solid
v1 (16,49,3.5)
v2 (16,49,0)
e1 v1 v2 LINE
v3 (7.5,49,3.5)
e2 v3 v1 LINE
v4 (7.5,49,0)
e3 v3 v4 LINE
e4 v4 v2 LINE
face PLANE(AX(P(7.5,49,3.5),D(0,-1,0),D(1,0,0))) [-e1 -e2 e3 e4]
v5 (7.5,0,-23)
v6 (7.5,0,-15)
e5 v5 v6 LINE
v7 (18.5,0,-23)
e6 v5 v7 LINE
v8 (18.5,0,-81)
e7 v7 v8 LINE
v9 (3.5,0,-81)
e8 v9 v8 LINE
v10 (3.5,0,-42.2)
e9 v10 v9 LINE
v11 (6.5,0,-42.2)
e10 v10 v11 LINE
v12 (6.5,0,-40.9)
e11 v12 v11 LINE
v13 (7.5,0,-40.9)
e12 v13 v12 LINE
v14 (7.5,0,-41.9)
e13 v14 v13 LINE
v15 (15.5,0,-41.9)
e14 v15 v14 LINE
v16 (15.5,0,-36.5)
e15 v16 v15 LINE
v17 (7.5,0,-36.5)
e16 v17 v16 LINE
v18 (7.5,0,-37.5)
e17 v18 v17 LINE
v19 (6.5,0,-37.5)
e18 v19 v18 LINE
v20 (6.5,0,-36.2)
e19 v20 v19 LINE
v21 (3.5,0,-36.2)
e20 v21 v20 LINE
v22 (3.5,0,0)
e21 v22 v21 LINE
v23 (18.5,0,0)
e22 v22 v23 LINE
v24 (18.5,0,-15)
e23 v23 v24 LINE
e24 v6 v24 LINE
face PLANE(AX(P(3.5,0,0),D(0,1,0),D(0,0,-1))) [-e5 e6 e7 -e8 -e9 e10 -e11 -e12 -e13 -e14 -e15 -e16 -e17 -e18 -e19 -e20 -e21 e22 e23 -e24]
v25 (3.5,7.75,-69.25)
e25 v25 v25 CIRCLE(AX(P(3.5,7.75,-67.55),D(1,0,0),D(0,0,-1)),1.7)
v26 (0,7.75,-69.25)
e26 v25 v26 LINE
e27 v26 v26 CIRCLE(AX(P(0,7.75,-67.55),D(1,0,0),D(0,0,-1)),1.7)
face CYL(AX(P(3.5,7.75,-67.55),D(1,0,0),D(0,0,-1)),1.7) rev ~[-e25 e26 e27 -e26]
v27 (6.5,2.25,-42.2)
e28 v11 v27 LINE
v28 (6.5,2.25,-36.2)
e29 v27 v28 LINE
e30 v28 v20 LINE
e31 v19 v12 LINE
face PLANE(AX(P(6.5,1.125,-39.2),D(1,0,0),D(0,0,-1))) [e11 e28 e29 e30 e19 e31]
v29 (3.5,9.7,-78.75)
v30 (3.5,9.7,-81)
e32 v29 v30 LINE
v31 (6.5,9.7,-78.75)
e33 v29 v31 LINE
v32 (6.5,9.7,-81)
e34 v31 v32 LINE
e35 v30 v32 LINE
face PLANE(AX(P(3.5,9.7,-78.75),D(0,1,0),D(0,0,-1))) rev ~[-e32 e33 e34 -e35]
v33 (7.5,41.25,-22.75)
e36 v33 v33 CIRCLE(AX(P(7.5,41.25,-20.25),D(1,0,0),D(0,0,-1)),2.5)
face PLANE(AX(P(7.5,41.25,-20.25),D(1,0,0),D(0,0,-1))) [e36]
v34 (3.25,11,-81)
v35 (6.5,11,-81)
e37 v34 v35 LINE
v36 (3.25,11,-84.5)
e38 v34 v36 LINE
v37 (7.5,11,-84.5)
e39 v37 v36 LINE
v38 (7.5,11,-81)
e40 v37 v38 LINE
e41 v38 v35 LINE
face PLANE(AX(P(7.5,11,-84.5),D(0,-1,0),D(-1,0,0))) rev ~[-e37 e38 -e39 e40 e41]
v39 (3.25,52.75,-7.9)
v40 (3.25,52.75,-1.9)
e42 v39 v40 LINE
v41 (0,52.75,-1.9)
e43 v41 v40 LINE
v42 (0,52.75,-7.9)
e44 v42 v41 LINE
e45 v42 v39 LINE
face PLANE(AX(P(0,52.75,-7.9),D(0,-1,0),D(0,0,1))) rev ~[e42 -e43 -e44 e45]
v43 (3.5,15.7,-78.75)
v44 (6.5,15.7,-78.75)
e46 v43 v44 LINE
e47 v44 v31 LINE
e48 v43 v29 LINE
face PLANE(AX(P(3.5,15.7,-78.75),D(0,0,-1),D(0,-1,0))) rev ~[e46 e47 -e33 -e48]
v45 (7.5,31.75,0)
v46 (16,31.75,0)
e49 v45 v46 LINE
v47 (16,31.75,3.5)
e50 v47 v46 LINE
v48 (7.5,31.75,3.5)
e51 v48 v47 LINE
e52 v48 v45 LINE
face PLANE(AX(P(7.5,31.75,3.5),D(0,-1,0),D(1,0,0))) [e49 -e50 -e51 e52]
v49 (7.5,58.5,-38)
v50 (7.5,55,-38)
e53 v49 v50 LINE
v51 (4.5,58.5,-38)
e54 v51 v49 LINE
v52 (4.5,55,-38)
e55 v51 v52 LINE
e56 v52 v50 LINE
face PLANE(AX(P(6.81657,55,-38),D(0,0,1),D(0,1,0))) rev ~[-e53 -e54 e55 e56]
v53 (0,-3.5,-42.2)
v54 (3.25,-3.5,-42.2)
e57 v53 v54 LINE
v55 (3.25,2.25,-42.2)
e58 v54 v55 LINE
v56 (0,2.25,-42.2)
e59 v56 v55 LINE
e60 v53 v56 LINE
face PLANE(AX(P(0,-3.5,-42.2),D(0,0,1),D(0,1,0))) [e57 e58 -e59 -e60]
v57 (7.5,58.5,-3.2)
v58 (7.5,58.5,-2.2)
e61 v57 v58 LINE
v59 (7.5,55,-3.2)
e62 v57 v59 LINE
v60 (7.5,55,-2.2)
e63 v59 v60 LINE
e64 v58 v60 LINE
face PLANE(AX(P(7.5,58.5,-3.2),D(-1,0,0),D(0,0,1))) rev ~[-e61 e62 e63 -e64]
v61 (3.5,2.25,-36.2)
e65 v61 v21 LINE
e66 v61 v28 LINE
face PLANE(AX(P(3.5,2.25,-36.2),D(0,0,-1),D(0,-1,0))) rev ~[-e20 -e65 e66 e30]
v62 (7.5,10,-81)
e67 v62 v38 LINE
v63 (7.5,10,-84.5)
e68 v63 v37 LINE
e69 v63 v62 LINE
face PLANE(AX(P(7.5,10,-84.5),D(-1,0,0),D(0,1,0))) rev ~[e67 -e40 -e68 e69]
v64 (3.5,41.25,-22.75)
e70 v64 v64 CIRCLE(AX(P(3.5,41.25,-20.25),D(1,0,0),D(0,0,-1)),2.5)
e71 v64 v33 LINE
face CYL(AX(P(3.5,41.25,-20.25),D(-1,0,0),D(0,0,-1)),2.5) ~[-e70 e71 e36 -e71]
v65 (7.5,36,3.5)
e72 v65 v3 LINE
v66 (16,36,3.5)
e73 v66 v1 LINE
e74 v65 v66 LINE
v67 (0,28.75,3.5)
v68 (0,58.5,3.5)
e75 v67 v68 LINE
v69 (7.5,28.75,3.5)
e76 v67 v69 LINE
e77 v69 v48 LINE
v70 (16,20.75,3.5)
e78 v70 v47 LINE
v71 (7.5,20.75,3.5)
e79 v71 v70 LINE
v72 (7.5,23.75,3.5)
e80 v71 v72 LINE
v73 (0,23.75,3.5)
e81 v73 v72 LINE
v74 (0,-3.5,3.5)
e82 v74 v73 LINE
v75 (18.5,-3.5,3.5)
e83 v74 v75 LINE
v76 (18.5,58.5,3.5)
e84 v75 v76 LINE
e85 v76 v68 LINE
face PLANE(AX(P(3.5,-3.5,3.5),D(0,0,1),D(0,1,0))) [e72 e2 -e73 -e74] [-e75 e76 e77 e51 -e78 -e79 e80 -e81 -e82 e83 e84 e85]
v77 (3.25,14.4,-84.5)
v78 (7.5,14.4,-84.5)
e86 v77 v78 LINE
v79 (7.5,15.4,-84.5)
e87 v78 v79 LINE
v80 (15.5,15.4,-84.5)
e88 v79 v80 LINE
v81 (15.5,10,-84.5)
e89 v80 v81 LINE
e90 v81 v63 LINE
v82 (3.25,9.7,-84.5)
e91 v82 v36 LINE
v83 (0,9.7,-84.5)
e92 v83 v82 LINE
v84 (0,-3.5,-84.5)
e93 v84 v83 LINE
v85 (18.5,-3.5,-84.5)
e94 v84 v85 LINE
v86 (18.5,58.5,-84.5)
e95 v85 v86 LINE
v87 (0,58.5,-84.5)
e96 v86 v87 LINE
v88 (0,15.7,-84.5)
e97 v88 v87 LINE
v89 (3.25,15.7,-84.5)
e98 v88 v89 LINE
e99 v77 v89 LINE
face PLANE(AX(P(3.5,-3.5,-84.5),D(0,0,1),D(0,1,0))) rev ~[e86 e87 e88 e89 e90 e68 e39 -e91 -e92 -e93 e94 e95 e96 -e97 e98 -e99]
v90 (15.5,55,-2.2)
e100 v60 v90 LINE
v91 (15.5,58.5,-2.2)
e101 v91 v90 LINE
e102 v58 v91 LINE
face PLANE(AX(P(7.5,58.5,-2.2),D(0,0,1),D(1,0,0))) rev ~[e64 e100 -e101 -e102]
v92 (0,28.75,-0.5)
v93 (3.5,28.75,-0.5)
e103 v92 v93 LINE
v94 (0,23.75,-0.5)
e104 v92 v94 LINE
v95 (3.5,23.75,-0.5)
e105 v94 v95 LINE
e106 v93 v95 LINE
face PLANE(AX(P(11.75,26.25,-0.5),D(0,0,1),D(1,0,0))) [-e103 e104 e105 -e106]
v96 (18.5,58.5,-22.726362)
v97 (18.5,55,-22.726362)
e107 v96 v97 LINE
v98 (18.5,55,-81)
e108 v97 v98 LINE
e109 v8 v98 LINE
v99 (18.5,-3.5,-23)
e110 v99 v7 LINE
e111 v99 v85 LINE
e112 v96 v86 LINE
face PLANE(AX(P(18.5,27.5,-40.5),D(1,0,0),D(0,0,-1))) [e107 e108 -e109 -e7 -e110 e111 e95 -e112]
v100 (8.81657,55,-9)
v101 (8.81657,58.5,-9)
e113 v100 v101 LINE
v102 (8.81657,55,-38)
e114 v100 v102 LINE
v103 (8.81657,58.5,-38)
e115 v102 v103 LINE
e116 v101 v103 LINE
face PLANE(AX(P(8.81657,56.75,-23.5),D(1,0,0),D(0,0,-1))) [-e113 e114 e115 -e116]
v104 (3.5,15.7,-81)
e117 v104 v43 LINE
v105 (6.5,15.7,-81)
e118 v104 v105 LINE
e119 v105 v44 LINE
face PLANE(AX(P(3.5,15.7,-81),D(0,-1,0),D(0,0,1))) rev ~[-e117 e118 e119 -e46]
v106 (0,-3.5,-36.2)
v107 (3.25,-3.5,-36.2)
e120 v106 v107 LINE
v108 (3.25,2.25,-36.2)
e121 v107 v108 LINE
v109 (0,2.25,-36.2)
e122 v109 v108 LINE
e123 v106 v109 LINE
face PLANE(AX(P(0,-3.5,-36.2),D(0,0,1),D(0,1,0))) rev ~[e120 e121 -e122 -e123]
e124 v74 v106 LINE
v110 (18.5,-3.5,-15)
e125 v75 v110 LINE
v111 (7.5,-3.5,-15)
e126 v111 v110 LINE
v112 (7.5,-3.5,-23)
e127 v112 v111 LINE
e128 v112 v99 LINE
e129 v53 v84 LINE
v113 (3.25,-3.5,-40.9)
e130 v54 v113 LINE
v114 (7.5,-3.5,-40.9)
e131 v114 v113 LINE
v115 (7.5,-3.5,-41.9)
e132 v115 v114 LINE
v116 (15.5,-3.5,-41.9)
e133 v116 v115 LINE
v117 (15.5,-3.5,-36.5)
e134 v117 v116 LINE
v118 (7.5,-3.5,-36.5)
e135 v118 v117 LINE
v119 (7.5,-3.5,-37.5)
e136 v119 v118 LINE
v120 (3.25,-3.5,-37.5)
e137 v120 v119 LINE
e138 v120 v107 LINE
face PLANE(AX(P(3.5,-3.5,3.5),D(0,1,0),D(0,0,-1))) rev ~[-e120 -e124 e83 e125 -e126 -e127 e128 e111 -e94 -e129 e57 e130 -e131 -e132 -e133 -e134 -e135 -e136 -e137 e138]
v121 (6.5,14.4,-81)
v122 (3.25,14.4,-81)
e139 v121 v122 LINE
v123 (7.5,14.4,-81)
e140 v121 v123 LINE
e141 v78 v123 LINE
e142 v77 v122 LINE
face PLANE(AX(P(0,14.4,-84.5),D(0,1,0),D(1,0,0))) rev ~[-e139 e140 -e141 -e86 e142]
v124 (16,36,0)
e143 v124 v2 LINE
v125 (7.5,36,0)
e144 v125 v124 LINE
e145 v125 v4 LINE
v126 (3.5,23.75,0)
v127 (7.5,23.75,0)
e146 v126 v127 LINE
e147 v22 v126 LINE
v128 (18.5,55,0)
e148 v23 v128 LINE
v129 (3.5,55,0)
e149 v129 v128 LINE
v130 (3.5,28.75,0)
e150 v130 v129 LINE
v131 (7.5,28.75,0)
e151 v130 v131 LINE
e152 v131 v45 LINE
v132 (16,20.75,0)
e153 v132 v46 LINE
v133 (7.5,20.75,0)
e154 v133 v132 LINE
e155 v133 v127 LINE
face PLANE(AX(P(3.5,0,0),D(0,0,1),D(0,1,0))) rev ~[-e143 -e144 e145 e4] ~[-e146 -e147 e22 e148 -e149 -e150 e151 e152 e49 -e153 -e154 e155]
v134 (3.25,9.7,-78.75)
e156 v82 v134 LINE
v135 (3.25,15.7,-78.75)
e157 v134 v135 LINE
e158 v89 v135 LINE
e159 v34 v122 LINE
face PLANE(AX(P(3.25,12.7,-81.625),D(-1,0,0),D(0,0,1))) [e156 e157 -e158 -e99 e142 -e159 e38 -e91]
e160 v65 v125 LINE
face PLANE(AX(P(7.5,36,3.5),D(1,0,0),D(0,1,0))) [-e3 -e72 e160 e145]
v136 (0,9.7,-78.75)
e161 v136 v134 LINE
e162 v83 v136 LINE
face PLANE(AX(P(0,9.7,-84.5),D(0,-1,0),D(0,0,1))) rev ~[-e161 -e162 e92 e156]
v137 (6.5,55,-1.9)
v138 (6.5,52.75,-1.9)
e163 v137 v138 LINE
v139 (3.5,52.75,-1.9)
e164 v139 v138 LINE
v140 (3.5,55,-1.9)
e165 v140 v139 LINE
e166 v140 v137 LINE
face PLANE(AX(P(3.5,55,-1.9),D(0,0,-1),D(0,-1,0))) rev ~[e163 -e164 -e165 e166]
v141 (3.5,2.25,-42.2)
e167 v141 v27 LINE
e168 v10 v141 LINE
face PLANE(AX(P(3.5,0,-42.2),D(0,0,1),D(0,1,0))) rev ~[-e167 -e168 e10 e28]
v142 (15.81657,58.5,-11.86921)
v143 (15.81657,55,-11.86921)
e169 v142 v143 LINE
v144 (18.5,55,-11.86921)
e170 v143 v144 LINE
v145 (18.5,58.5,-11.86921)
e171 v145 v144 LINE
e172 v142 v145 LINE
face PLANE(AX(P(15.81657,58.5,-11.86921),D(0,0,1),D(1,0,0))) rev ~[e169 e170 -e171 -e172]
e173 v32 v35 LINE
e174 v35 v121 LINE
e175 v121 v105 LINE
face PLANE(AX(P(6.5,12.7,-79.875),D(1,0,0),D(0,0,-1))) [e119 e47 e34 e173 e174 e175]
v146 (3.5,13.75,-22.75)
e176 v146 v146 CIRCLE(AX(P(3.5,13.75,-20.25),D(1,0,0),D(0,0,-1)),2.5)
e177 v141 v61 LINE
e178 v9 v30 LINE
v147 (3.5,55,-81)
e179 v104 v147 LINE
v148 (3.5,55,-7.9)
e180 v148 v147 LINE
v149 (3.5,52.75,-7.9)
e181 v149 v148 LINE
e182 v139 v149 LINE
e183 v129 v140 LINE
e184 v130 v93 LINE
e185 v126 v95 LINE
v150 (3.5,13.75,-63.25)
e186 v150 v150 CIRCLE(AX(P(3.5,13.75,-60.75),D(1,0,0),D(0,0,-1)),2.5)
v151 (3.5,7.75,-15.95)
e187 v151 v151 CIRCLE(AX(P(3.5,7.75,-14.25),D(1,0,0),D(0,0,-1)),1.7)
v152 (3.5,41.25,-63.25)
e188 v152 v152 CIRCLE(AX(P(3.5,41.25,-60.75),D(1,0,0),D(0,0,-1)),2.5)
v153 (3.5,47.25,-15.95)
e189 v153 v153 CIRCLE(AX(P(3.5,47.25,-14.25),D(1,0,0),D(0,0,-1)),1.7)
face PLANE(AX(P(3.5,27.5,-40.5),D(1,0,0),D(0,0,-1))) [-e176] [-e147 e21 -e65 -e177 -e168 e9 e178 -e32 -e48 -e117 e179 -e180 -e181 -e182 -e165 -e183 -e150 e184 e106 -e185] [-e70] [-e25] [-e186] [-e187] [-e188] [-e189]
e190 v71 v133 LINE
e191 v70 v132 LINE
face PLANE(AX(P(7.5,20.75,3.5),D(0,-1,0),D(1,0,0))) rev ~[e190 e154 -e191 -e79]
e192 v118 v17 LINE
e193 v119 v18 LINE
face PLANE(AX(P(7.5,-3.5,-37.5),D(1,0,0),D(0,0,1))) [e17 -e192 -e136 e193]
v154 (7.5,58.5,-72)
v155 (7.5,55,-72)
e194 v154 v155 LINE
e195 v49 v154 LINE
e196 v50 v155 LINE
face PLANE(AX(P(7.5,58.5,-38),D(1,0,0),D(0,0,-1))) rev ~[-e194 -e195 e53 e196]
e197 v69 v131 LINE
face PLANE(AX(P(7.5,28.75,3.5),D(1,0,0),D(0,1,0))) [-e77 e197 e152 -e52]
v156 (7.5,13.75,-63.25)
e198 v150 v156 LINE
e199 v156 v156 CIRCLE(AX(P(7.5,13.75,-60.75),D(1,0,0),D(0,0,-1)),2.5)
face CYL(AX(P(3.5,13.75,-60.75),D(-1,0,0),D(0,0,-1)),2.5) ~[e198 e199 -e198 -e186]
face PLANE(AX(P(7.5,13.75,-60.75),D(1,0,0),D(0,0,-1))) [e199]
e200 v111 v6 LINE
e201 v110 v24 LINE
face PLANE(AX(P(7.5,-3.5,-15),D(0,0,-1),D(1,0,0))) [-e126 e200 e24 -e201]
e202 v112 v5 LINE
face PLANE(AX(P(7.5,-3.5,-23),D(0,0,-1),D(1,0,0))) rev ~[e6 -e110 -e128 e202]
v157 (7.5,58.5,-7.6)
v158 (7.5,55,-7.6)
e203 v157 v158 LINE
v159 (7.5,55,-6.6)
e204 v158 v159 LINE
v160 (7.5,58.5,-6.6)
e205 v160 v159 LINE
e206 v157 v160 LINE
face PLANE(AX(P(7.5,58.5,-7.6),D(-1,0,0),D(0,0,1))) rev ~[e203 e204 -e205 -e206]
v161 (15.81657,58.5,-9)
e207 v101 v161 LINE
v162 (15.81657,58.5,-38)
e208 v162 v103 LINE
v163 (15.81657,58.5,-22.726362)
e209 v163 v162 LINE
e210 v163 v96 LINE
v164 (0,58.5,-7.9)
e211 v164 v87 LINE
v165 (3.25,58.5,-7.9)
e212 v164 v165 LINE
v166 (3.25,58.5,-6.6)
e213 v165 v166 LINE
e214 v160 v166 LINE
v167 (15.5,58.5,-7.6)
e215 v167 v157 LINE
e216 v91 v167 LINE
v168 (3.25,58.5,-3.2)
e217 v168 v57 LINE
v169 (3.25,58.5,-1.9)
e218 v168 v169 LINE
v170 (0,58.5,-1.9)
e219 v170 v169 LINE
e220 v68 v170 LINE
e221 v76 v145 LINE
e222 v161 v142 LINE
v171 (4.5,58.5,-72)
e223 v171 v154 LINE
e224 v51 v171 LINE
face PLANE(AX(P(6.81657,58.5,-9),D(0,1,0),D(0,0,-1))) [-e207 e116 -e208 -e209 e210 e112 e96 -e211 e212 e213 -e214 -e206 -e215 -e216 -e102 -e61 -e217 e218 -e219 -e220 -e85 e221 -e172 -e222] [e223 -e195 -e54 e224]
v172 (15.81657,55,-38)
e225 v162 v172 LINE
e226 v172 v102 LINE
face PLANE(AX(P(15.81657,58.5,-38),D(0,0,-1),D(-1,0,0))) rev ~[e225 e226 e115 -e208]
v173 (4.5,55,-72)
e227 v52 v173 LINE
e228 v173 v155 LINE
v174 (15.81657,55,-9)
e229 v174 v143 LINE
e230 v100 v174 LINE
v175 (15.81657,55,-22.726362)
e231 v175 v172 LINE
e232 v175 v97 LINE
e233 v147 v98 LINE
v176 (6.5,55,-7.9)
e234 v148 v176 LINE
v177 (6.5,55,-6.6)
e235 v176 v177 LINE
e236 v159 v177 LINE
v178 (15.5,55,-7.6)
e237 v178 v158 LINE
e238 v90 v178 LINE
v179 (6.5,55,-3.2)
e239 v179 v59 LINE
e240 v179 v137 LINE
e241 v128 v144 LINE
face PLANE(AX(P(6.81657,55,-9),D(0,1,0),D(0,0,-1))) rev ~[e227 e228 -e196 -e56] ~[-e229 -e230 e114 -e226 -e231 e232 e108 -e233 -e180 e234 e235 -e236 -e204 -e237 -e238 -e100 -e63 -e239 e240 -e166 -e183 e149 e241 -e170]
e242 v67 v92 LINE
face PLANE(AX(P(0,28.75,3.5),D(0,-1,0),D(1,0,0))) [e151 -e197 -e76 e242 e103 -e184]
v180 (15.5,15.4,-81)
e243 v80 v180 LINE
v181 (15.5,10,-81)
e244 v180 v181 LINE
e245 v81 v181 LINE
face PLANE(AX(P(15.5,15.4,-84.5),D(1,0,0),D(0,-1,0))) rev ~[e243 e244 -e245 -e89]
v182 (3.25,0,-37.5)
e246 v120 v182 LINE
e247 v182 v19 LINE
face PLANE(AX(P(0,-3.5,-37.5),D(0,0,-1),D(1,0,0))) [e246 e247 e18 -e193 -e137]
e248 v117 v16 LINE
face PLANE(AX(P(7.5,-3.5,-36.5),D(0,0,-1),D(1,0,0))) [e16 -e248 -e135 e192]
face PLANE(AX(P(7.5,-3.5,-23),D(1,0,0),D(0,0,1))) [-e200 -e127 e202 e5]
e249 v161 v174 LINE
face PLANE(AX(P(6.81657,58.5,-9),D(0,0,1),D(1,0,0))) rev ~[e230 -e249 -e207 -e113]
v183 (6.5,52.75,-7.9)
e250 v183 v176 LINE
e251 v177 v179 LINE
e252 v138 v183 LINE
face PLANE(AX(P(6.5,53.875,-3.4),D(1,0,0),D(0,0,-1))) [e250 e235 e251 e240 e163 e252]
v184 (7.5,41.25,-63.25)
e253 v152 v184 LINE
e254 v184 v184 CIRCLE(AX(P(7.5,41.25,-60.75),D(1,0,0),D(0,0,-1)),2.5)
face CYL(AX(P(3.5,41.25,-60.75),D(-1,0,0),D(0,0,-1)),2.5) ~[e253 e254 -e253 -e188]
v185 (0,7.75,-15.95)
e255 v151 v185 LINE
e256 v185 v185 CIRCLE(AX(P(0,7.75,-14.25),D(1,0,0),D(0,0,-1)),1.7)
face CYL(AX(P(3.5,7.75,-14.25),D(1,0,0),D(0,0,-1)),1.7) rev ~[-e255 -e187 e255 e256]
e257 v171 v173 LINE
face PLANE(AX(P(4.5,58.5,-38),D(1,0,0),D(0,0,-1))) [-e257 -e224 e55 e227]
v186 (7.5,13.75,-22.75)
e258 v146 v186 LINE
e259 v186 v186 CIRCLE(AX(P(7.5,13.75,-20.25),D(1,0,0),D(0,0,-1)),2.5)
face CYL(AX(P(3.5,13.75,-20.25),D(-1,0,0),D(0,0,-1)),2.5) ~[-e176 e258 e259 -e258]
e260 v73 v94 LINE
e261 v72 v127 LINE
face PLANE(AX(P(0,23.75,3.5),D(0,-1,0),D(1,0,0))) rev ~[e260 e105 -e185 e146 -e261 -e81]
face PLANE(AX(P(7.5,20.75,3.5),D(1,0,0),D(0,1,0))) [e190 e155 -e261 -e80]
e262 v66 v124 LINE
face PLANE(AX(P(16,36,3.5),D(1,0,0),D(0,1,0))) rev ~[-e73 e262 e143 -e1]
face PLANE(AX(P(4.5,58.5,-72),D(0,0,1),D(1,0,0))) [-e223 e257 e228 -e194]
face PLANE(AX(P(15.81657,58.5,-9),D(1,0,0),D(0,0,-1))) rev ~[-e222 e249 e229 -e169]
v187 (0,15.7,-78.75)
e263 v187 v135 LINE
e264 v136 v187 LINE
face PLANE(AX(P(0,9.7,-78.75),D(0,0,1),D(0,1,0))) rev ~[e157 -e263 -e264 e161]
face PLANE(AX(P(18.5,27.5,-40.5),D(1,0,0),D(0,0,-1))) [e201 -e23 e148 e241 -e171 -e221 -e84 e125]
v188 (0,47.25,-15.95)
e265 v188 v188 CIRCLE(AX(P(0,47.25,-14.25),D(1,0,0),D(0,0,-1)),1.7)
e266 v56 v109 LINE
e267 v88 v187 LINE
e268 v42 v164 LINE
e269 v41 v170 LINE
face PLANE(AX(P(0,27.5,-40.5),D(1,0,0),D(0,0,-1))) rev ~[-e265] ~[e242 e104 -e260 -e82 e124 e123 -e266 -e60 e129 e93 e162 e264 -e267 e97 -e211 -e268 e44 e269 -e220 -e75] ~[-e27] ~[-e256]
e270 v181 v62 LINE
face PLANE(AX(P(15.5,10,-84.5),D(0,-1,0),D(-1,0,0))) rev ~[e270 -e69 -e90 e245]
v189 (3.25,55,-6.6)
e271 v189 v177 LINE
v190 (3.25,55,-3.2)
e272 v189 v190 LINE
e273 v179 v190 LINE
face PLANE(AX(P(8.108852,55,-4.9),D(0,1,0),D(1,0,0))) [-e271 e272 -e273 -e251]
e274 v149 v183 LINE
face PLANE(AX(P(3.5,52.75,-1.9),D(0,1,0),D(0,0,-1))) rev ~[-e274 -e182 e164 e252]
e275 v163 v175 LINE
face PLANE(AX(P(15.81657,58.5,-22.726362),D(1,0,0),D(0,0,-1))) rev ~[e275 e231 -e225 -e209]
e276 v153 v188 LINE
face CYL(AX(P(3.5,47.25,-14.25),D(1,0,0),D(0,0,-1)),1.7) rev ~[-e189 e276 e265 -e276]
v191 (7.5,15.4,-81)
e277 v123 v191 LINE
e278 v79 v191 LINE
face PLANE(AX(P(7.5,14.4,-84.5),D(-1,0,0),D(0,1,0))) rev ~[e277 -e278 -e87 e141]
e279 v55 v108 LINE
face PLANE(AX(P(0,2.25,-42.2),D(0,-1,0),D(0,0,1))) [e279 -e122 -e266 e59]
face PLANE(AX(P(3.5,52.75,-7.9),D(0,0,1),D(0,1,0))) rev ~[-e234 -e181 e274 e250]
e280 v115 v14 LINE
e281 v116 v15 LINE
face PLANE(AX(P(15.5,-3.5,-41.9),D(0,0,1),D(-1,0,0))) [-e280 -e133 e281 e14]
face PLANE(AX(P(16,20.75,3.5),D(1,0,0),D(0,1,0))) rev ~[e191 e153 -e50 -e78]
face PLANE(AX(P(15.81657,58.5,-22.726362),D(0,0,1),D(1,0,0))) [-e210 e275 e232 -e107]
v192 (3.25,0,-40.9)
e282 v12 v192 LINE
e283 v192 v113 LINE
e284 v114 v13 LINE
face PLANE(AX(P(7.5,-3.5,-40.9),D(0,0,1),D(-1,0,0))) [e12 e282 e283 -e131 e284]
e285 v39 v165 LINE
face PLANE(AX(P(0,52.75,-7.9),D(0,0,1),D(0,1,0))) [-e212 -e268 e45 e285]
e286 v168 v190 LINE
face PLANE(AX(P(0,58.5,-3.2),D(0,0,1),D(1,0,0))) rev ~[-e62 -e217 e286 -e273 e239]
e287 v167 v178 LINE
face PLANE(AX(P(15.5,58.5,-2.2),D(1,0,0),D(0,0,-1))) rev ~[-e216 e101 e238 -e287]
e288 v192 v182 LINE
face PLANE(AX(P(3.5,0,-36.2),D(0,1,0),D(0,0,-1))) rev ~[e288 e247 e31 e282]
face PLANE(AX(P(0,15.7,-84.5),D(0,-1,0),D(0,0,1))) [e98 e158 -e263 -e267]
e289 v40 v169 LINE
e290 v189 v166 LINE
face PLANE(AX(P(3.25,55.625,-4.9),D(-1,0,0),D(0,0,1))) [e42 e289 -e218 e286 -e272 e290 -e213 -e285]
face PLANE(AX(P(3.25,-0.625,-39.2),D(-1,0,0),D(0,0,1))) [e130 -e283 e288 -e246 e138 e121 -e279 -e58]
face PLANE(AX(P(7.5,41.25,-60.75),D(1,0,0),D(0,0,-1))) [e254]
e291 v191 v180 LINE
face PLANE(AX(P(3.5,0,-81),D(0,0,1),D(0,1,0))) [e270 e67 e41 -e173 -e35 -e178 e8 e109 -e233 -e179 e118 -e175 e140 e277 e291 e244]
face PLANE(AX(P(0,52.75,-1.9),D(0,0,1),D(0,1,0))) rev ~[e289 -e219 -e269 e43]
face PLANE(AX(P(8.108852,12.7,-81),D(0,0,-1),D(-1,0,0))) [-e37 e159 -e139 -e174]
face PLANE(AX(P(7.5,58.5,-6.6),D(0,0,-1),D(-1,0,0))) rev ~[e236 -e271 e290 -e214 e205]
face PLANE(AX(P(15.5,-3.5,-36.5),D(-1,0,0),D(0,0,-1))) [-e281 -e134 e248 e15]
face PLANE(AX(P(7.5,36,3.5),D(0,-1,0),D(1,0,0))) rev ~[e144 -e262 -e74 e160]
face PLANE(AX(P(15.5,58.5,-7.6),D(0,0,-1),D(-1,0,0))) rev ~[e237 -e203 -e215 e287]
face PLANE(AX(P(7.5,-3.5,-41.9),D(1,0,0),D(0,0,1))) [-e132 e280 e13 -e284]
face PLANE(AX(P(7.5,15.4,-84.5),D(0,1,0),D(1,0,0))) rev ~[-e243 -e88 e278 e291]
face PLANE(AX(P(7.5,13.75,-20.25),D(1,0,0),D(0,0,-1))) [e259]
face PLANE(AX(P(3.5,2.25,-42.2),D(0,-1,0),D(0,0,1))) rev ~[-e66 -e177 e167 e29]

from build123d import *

# Parameters (mm, degrees)
SKETCH_1_W          = 88
SKETCH_1_H          = 62
EXTRUDE_1_DEPTH     = 3.5
SKETCH_2_W          = 88
SKETCH_2_H          = 62
SKETCH_2_W_2        = 81
SKETCH_2_H_2        = 55
EXTRUDE_2_DEPTH     = 15
SKETCH_3_R          = 2.5
EXTRUDE_3_DEPTH     = 4
SKETCH_4_W          = 3
SKETCH_4_H          = 34
SKETCH_4_W_2        = 2.683429954
SKETCH_4_H_2        = 10.857152268
CUT_EXTRUDE_2_DEPTH = 3.5
SKETCH_7_W          = 8.5
SKETCH_7_H          = 11
SKETCH_7_H_2        = 13
SKETCH_7_W_2        = 7.5
SKETCH_7_H_3        = 2.5
CUT_EXTRUDE_3_DEPTH = 4
SKETCH_8_W          = 12
SKETCH_8_H          = 8
CUT_EXTRUDE_4_DEPTH = 3.5
CUT_EXTRUDE_5_DEPTH = 3.5
SKETCH_10_R         = 1.7
CUT_EXTRUDE_6_DEPTH = 3.5
EXTRUDE_4_DEPTH     = 3
SKETCH_12_W         = 6
SKETCH_12_H         = 5.75
SKETCH_12_W_2       = 5.75
SKETCH_12_H_2       = 6
CUT_EXTRUDE_7_DEPTH = 3.25
SKETCH_13_W         = 29
SKETCH_13_H         = 3.5
EXTRUDE_5_DEPTH     = 2


with BuildPart() as part:
    # 草图1 → 凸台-拉伸1 (new body)
    with BuildSketch(Plane(origin=(0, 0, 0), x_dir=(0, 0, -1), z_dir=(1, 0, 0))):
        with Locations((40.5, 27.5)):
            Rectangle(SKETCH_1_W, SKETCH_1_H)
    extrude(amount=EXTRUDE_1_DEPTH)

    # 草图2 → 凸台-拉伸2 (add)
    with BuildSketch(Plane(origin=(3.5, 0, 0), x_dir=(0, 0, -1), z_dir=(1, 0, 0))):
        with Locations((40.5, 27.5)):
            Rectangle(SKETCH_2_W, SKETCH_2_H)
        with Locations((40.5, 27.5)):
            Rectangle(SKETCH_2_W_2, SKETCH_2_H_2, mode=Mode.SUBTRACT)
    extrude(amount=EXTRUDE_2_DEPTH)

    # 草图3 → 凸台-拉伸3 (add)
    with BuildSketch(Plane(origin=(3.5, 0, 0), x_dir=(0, 0, -1), z_dir=(1, 0, 0))):
        with Locations((20.25, 41.25)):
            Circle(SKETCH_3_R)
        with Locations((60.75, 41.25)):
            Circle(SKETCH_3_R)
        with Locations((60.75, 13.75)):
            Circle(SKETCH_3_R)
        with Locations((20.25, 13.75)):
            Circle(SKETCH_3_R)
    extrude(amount=EXTRUDE_3_DEPTH)

    # 草图4 → 切除-拉伸2 (cut)
    with BuildSketch(Plane(origin=(0, 58.5, 0), x_dir=(1, 0, 0), z_dir=(0, 1, 0))):
        with Locations((6, 55)):
            Rectangle(SKETCH_4_W, SKETCH_4_H)
        Polygon((7.5, 38), (6.816570046, 38), (6.816570046, 9), (15.816570046, 9), (15.816570046, 11.869210194), (15.816570046, 22.726362462), (15.816570046, 38), align=None)
        Polygon((0, 3.2), (7.5, 3.2), (7.5, 2.2), (15.5, 2.2), (15.5, 7.6), (7.5, 7.6), (7.5, 6.6), (0, 6.6), align=None)
        with Locations((17.158285023, 17.297786328)):
            Rectangle(SKETCH_4_W_2, SKETCH_4_H_2)
    extrude(amount=-CUT_EXTRUDE_2_DEPTH, mode=Mode.SUBTRACT)

    # 草图7 → 切除-拉伸3 (cut)
    with BuildSketch(Plane.XY.offset(3.5)):
        with Locations((11.75, 26.25)):
            Rectangle(SKETCH_7_W, SKETCH_7_H)
        with Locations((11.75, 42.5)):
            Rectangle(SKETCH_7_W, SKETCH_7_H_2)
        with Locations((3.75, 27.5)):
            Rectangle(SKETCH_7_W_2, SKETCH_7_H_3)
        with Locations((3.75, 25)):
            Rectangle(SKETCH_7_W_2, SKETCH_7_H_3)
    extrude(amount=-CUT_EXTRUDE_3_DEPTH, mode=Mode.SUBTRACT)

    # 草图8 → 切除-拉伸4 (cut)
    with BuildSketch(Plane.XZ.offset(3.5)):
        with Locations((13.5, -19)):
            Rectangle(SKETCH_8_W, SKETCH_8_H)
        Polygon((7.5, -36.5), (15.5, -36.5), (15.5, -41.9), (7.5, -41.9), (7.5, -40.9), (0, -40.9), (0, -37.5), (7.5, -37.5), align=None)
    extrude(amount=-CUT_EXTRUDE_4_DEPTH, mode=Mode.SUBTRACT)

    # 草图9 → 切除-拉伸5 (cut)
    with BuildSketch(Plane(origin=(0, 0, -84.5), x_dir=(-1, 0, 0), z_dir=(0, 0, -1))):
        Polygon((-7.5, 11), (0, 11), (0, 14.4), (-7.5, 14.4), (-7.5, 15.4), (-15.5, 15.4), (-15.5, 10), (-7.5, 10), align=None)
    extrude(amount=-CUT_EXTRUDE_5_DEPTH, mode=Mode.SUBTRACT)

    # 草图10 → 切除-拉伸6 (cut)
    with BuildSketch(Plane(origin=(3.5, 0, 0), x_dir=(0, 0, -1), z_dir=(1, 0, 0))):
        with Locations((14.25, 47.25)):
            Circle(SKETCH_10_R)
        with Locations((14.25, 7.75)):
            Circle(SKETCH_10_R)
        with Locations((67.55, 7.75)):
            Circle(SKETCH_10_R)
    extrude(amount=-CUT_EXTRUDE_6_DEPTH, mode=Mode.SUBTRACT)

    # 草图11 → 凸台-拉伸4 (add)
    with BuildSketch(Plane(origin=(3.5, 0, 0), x_dir=(0, 0, -1), z_dir=(1, 0, 0))):
        Polygon((40.9, 0), (42.2, 0), (42.2, 2.25), (36.2, 2.25), (36.2, 0), (37.5, 0), align=None)
        Polygon((81, 14.4), (81, 15.7), (78.75, 15.7), (78.75, 9.7), (81, 9.7), (81, 11), align=None)
        Polygon((4.9, 52.75), (4.9, 55), (3.2, 55), (1.9, 55), (1.9, 52.75), align=None)
        Polygon((6.6, 55), (4.9, 55), (4.9, 52.75), (7.9, 52.75), (7.9, 55), align=None)
    extrude(amount=EXTRUDE_4_DEPTH)

    # 草图12 → 切除-拉伸7 (cut)
    with BuildSketch(Plane.ZY):
        with Locations((-4.9, 55.625)):
            Rectangle(SKETCH_12_W, SKETCH_12_H)
        with Locations((-39.2, -0.625)):
            Rectangle(SKETCH_12_W, SKETCH_12_H)
        with Locations((-81.625, 12.7)):
            Rectangle(SKETCH_12_W_2, SKETCH_12_H_2)
    extrude(amount=-CUT_EXTRUDE_7_DEPTH, mode=Mode.SUBTRACT)

    # 草图13 → 凸台-拉伸5 (add)
    with BuildSketch(Plane(origin=(6.816570046, 0, 0), x_dir=(0, 0, -1), z_dir=(1, 0, 0))):
        with Locations((23.5, 56.75)):
            Rectangle(SKETCH_13_W, SKETCH_13_H)
    extrude(amount=EXTRUDE_5_DEPTH)


solid = part.part
